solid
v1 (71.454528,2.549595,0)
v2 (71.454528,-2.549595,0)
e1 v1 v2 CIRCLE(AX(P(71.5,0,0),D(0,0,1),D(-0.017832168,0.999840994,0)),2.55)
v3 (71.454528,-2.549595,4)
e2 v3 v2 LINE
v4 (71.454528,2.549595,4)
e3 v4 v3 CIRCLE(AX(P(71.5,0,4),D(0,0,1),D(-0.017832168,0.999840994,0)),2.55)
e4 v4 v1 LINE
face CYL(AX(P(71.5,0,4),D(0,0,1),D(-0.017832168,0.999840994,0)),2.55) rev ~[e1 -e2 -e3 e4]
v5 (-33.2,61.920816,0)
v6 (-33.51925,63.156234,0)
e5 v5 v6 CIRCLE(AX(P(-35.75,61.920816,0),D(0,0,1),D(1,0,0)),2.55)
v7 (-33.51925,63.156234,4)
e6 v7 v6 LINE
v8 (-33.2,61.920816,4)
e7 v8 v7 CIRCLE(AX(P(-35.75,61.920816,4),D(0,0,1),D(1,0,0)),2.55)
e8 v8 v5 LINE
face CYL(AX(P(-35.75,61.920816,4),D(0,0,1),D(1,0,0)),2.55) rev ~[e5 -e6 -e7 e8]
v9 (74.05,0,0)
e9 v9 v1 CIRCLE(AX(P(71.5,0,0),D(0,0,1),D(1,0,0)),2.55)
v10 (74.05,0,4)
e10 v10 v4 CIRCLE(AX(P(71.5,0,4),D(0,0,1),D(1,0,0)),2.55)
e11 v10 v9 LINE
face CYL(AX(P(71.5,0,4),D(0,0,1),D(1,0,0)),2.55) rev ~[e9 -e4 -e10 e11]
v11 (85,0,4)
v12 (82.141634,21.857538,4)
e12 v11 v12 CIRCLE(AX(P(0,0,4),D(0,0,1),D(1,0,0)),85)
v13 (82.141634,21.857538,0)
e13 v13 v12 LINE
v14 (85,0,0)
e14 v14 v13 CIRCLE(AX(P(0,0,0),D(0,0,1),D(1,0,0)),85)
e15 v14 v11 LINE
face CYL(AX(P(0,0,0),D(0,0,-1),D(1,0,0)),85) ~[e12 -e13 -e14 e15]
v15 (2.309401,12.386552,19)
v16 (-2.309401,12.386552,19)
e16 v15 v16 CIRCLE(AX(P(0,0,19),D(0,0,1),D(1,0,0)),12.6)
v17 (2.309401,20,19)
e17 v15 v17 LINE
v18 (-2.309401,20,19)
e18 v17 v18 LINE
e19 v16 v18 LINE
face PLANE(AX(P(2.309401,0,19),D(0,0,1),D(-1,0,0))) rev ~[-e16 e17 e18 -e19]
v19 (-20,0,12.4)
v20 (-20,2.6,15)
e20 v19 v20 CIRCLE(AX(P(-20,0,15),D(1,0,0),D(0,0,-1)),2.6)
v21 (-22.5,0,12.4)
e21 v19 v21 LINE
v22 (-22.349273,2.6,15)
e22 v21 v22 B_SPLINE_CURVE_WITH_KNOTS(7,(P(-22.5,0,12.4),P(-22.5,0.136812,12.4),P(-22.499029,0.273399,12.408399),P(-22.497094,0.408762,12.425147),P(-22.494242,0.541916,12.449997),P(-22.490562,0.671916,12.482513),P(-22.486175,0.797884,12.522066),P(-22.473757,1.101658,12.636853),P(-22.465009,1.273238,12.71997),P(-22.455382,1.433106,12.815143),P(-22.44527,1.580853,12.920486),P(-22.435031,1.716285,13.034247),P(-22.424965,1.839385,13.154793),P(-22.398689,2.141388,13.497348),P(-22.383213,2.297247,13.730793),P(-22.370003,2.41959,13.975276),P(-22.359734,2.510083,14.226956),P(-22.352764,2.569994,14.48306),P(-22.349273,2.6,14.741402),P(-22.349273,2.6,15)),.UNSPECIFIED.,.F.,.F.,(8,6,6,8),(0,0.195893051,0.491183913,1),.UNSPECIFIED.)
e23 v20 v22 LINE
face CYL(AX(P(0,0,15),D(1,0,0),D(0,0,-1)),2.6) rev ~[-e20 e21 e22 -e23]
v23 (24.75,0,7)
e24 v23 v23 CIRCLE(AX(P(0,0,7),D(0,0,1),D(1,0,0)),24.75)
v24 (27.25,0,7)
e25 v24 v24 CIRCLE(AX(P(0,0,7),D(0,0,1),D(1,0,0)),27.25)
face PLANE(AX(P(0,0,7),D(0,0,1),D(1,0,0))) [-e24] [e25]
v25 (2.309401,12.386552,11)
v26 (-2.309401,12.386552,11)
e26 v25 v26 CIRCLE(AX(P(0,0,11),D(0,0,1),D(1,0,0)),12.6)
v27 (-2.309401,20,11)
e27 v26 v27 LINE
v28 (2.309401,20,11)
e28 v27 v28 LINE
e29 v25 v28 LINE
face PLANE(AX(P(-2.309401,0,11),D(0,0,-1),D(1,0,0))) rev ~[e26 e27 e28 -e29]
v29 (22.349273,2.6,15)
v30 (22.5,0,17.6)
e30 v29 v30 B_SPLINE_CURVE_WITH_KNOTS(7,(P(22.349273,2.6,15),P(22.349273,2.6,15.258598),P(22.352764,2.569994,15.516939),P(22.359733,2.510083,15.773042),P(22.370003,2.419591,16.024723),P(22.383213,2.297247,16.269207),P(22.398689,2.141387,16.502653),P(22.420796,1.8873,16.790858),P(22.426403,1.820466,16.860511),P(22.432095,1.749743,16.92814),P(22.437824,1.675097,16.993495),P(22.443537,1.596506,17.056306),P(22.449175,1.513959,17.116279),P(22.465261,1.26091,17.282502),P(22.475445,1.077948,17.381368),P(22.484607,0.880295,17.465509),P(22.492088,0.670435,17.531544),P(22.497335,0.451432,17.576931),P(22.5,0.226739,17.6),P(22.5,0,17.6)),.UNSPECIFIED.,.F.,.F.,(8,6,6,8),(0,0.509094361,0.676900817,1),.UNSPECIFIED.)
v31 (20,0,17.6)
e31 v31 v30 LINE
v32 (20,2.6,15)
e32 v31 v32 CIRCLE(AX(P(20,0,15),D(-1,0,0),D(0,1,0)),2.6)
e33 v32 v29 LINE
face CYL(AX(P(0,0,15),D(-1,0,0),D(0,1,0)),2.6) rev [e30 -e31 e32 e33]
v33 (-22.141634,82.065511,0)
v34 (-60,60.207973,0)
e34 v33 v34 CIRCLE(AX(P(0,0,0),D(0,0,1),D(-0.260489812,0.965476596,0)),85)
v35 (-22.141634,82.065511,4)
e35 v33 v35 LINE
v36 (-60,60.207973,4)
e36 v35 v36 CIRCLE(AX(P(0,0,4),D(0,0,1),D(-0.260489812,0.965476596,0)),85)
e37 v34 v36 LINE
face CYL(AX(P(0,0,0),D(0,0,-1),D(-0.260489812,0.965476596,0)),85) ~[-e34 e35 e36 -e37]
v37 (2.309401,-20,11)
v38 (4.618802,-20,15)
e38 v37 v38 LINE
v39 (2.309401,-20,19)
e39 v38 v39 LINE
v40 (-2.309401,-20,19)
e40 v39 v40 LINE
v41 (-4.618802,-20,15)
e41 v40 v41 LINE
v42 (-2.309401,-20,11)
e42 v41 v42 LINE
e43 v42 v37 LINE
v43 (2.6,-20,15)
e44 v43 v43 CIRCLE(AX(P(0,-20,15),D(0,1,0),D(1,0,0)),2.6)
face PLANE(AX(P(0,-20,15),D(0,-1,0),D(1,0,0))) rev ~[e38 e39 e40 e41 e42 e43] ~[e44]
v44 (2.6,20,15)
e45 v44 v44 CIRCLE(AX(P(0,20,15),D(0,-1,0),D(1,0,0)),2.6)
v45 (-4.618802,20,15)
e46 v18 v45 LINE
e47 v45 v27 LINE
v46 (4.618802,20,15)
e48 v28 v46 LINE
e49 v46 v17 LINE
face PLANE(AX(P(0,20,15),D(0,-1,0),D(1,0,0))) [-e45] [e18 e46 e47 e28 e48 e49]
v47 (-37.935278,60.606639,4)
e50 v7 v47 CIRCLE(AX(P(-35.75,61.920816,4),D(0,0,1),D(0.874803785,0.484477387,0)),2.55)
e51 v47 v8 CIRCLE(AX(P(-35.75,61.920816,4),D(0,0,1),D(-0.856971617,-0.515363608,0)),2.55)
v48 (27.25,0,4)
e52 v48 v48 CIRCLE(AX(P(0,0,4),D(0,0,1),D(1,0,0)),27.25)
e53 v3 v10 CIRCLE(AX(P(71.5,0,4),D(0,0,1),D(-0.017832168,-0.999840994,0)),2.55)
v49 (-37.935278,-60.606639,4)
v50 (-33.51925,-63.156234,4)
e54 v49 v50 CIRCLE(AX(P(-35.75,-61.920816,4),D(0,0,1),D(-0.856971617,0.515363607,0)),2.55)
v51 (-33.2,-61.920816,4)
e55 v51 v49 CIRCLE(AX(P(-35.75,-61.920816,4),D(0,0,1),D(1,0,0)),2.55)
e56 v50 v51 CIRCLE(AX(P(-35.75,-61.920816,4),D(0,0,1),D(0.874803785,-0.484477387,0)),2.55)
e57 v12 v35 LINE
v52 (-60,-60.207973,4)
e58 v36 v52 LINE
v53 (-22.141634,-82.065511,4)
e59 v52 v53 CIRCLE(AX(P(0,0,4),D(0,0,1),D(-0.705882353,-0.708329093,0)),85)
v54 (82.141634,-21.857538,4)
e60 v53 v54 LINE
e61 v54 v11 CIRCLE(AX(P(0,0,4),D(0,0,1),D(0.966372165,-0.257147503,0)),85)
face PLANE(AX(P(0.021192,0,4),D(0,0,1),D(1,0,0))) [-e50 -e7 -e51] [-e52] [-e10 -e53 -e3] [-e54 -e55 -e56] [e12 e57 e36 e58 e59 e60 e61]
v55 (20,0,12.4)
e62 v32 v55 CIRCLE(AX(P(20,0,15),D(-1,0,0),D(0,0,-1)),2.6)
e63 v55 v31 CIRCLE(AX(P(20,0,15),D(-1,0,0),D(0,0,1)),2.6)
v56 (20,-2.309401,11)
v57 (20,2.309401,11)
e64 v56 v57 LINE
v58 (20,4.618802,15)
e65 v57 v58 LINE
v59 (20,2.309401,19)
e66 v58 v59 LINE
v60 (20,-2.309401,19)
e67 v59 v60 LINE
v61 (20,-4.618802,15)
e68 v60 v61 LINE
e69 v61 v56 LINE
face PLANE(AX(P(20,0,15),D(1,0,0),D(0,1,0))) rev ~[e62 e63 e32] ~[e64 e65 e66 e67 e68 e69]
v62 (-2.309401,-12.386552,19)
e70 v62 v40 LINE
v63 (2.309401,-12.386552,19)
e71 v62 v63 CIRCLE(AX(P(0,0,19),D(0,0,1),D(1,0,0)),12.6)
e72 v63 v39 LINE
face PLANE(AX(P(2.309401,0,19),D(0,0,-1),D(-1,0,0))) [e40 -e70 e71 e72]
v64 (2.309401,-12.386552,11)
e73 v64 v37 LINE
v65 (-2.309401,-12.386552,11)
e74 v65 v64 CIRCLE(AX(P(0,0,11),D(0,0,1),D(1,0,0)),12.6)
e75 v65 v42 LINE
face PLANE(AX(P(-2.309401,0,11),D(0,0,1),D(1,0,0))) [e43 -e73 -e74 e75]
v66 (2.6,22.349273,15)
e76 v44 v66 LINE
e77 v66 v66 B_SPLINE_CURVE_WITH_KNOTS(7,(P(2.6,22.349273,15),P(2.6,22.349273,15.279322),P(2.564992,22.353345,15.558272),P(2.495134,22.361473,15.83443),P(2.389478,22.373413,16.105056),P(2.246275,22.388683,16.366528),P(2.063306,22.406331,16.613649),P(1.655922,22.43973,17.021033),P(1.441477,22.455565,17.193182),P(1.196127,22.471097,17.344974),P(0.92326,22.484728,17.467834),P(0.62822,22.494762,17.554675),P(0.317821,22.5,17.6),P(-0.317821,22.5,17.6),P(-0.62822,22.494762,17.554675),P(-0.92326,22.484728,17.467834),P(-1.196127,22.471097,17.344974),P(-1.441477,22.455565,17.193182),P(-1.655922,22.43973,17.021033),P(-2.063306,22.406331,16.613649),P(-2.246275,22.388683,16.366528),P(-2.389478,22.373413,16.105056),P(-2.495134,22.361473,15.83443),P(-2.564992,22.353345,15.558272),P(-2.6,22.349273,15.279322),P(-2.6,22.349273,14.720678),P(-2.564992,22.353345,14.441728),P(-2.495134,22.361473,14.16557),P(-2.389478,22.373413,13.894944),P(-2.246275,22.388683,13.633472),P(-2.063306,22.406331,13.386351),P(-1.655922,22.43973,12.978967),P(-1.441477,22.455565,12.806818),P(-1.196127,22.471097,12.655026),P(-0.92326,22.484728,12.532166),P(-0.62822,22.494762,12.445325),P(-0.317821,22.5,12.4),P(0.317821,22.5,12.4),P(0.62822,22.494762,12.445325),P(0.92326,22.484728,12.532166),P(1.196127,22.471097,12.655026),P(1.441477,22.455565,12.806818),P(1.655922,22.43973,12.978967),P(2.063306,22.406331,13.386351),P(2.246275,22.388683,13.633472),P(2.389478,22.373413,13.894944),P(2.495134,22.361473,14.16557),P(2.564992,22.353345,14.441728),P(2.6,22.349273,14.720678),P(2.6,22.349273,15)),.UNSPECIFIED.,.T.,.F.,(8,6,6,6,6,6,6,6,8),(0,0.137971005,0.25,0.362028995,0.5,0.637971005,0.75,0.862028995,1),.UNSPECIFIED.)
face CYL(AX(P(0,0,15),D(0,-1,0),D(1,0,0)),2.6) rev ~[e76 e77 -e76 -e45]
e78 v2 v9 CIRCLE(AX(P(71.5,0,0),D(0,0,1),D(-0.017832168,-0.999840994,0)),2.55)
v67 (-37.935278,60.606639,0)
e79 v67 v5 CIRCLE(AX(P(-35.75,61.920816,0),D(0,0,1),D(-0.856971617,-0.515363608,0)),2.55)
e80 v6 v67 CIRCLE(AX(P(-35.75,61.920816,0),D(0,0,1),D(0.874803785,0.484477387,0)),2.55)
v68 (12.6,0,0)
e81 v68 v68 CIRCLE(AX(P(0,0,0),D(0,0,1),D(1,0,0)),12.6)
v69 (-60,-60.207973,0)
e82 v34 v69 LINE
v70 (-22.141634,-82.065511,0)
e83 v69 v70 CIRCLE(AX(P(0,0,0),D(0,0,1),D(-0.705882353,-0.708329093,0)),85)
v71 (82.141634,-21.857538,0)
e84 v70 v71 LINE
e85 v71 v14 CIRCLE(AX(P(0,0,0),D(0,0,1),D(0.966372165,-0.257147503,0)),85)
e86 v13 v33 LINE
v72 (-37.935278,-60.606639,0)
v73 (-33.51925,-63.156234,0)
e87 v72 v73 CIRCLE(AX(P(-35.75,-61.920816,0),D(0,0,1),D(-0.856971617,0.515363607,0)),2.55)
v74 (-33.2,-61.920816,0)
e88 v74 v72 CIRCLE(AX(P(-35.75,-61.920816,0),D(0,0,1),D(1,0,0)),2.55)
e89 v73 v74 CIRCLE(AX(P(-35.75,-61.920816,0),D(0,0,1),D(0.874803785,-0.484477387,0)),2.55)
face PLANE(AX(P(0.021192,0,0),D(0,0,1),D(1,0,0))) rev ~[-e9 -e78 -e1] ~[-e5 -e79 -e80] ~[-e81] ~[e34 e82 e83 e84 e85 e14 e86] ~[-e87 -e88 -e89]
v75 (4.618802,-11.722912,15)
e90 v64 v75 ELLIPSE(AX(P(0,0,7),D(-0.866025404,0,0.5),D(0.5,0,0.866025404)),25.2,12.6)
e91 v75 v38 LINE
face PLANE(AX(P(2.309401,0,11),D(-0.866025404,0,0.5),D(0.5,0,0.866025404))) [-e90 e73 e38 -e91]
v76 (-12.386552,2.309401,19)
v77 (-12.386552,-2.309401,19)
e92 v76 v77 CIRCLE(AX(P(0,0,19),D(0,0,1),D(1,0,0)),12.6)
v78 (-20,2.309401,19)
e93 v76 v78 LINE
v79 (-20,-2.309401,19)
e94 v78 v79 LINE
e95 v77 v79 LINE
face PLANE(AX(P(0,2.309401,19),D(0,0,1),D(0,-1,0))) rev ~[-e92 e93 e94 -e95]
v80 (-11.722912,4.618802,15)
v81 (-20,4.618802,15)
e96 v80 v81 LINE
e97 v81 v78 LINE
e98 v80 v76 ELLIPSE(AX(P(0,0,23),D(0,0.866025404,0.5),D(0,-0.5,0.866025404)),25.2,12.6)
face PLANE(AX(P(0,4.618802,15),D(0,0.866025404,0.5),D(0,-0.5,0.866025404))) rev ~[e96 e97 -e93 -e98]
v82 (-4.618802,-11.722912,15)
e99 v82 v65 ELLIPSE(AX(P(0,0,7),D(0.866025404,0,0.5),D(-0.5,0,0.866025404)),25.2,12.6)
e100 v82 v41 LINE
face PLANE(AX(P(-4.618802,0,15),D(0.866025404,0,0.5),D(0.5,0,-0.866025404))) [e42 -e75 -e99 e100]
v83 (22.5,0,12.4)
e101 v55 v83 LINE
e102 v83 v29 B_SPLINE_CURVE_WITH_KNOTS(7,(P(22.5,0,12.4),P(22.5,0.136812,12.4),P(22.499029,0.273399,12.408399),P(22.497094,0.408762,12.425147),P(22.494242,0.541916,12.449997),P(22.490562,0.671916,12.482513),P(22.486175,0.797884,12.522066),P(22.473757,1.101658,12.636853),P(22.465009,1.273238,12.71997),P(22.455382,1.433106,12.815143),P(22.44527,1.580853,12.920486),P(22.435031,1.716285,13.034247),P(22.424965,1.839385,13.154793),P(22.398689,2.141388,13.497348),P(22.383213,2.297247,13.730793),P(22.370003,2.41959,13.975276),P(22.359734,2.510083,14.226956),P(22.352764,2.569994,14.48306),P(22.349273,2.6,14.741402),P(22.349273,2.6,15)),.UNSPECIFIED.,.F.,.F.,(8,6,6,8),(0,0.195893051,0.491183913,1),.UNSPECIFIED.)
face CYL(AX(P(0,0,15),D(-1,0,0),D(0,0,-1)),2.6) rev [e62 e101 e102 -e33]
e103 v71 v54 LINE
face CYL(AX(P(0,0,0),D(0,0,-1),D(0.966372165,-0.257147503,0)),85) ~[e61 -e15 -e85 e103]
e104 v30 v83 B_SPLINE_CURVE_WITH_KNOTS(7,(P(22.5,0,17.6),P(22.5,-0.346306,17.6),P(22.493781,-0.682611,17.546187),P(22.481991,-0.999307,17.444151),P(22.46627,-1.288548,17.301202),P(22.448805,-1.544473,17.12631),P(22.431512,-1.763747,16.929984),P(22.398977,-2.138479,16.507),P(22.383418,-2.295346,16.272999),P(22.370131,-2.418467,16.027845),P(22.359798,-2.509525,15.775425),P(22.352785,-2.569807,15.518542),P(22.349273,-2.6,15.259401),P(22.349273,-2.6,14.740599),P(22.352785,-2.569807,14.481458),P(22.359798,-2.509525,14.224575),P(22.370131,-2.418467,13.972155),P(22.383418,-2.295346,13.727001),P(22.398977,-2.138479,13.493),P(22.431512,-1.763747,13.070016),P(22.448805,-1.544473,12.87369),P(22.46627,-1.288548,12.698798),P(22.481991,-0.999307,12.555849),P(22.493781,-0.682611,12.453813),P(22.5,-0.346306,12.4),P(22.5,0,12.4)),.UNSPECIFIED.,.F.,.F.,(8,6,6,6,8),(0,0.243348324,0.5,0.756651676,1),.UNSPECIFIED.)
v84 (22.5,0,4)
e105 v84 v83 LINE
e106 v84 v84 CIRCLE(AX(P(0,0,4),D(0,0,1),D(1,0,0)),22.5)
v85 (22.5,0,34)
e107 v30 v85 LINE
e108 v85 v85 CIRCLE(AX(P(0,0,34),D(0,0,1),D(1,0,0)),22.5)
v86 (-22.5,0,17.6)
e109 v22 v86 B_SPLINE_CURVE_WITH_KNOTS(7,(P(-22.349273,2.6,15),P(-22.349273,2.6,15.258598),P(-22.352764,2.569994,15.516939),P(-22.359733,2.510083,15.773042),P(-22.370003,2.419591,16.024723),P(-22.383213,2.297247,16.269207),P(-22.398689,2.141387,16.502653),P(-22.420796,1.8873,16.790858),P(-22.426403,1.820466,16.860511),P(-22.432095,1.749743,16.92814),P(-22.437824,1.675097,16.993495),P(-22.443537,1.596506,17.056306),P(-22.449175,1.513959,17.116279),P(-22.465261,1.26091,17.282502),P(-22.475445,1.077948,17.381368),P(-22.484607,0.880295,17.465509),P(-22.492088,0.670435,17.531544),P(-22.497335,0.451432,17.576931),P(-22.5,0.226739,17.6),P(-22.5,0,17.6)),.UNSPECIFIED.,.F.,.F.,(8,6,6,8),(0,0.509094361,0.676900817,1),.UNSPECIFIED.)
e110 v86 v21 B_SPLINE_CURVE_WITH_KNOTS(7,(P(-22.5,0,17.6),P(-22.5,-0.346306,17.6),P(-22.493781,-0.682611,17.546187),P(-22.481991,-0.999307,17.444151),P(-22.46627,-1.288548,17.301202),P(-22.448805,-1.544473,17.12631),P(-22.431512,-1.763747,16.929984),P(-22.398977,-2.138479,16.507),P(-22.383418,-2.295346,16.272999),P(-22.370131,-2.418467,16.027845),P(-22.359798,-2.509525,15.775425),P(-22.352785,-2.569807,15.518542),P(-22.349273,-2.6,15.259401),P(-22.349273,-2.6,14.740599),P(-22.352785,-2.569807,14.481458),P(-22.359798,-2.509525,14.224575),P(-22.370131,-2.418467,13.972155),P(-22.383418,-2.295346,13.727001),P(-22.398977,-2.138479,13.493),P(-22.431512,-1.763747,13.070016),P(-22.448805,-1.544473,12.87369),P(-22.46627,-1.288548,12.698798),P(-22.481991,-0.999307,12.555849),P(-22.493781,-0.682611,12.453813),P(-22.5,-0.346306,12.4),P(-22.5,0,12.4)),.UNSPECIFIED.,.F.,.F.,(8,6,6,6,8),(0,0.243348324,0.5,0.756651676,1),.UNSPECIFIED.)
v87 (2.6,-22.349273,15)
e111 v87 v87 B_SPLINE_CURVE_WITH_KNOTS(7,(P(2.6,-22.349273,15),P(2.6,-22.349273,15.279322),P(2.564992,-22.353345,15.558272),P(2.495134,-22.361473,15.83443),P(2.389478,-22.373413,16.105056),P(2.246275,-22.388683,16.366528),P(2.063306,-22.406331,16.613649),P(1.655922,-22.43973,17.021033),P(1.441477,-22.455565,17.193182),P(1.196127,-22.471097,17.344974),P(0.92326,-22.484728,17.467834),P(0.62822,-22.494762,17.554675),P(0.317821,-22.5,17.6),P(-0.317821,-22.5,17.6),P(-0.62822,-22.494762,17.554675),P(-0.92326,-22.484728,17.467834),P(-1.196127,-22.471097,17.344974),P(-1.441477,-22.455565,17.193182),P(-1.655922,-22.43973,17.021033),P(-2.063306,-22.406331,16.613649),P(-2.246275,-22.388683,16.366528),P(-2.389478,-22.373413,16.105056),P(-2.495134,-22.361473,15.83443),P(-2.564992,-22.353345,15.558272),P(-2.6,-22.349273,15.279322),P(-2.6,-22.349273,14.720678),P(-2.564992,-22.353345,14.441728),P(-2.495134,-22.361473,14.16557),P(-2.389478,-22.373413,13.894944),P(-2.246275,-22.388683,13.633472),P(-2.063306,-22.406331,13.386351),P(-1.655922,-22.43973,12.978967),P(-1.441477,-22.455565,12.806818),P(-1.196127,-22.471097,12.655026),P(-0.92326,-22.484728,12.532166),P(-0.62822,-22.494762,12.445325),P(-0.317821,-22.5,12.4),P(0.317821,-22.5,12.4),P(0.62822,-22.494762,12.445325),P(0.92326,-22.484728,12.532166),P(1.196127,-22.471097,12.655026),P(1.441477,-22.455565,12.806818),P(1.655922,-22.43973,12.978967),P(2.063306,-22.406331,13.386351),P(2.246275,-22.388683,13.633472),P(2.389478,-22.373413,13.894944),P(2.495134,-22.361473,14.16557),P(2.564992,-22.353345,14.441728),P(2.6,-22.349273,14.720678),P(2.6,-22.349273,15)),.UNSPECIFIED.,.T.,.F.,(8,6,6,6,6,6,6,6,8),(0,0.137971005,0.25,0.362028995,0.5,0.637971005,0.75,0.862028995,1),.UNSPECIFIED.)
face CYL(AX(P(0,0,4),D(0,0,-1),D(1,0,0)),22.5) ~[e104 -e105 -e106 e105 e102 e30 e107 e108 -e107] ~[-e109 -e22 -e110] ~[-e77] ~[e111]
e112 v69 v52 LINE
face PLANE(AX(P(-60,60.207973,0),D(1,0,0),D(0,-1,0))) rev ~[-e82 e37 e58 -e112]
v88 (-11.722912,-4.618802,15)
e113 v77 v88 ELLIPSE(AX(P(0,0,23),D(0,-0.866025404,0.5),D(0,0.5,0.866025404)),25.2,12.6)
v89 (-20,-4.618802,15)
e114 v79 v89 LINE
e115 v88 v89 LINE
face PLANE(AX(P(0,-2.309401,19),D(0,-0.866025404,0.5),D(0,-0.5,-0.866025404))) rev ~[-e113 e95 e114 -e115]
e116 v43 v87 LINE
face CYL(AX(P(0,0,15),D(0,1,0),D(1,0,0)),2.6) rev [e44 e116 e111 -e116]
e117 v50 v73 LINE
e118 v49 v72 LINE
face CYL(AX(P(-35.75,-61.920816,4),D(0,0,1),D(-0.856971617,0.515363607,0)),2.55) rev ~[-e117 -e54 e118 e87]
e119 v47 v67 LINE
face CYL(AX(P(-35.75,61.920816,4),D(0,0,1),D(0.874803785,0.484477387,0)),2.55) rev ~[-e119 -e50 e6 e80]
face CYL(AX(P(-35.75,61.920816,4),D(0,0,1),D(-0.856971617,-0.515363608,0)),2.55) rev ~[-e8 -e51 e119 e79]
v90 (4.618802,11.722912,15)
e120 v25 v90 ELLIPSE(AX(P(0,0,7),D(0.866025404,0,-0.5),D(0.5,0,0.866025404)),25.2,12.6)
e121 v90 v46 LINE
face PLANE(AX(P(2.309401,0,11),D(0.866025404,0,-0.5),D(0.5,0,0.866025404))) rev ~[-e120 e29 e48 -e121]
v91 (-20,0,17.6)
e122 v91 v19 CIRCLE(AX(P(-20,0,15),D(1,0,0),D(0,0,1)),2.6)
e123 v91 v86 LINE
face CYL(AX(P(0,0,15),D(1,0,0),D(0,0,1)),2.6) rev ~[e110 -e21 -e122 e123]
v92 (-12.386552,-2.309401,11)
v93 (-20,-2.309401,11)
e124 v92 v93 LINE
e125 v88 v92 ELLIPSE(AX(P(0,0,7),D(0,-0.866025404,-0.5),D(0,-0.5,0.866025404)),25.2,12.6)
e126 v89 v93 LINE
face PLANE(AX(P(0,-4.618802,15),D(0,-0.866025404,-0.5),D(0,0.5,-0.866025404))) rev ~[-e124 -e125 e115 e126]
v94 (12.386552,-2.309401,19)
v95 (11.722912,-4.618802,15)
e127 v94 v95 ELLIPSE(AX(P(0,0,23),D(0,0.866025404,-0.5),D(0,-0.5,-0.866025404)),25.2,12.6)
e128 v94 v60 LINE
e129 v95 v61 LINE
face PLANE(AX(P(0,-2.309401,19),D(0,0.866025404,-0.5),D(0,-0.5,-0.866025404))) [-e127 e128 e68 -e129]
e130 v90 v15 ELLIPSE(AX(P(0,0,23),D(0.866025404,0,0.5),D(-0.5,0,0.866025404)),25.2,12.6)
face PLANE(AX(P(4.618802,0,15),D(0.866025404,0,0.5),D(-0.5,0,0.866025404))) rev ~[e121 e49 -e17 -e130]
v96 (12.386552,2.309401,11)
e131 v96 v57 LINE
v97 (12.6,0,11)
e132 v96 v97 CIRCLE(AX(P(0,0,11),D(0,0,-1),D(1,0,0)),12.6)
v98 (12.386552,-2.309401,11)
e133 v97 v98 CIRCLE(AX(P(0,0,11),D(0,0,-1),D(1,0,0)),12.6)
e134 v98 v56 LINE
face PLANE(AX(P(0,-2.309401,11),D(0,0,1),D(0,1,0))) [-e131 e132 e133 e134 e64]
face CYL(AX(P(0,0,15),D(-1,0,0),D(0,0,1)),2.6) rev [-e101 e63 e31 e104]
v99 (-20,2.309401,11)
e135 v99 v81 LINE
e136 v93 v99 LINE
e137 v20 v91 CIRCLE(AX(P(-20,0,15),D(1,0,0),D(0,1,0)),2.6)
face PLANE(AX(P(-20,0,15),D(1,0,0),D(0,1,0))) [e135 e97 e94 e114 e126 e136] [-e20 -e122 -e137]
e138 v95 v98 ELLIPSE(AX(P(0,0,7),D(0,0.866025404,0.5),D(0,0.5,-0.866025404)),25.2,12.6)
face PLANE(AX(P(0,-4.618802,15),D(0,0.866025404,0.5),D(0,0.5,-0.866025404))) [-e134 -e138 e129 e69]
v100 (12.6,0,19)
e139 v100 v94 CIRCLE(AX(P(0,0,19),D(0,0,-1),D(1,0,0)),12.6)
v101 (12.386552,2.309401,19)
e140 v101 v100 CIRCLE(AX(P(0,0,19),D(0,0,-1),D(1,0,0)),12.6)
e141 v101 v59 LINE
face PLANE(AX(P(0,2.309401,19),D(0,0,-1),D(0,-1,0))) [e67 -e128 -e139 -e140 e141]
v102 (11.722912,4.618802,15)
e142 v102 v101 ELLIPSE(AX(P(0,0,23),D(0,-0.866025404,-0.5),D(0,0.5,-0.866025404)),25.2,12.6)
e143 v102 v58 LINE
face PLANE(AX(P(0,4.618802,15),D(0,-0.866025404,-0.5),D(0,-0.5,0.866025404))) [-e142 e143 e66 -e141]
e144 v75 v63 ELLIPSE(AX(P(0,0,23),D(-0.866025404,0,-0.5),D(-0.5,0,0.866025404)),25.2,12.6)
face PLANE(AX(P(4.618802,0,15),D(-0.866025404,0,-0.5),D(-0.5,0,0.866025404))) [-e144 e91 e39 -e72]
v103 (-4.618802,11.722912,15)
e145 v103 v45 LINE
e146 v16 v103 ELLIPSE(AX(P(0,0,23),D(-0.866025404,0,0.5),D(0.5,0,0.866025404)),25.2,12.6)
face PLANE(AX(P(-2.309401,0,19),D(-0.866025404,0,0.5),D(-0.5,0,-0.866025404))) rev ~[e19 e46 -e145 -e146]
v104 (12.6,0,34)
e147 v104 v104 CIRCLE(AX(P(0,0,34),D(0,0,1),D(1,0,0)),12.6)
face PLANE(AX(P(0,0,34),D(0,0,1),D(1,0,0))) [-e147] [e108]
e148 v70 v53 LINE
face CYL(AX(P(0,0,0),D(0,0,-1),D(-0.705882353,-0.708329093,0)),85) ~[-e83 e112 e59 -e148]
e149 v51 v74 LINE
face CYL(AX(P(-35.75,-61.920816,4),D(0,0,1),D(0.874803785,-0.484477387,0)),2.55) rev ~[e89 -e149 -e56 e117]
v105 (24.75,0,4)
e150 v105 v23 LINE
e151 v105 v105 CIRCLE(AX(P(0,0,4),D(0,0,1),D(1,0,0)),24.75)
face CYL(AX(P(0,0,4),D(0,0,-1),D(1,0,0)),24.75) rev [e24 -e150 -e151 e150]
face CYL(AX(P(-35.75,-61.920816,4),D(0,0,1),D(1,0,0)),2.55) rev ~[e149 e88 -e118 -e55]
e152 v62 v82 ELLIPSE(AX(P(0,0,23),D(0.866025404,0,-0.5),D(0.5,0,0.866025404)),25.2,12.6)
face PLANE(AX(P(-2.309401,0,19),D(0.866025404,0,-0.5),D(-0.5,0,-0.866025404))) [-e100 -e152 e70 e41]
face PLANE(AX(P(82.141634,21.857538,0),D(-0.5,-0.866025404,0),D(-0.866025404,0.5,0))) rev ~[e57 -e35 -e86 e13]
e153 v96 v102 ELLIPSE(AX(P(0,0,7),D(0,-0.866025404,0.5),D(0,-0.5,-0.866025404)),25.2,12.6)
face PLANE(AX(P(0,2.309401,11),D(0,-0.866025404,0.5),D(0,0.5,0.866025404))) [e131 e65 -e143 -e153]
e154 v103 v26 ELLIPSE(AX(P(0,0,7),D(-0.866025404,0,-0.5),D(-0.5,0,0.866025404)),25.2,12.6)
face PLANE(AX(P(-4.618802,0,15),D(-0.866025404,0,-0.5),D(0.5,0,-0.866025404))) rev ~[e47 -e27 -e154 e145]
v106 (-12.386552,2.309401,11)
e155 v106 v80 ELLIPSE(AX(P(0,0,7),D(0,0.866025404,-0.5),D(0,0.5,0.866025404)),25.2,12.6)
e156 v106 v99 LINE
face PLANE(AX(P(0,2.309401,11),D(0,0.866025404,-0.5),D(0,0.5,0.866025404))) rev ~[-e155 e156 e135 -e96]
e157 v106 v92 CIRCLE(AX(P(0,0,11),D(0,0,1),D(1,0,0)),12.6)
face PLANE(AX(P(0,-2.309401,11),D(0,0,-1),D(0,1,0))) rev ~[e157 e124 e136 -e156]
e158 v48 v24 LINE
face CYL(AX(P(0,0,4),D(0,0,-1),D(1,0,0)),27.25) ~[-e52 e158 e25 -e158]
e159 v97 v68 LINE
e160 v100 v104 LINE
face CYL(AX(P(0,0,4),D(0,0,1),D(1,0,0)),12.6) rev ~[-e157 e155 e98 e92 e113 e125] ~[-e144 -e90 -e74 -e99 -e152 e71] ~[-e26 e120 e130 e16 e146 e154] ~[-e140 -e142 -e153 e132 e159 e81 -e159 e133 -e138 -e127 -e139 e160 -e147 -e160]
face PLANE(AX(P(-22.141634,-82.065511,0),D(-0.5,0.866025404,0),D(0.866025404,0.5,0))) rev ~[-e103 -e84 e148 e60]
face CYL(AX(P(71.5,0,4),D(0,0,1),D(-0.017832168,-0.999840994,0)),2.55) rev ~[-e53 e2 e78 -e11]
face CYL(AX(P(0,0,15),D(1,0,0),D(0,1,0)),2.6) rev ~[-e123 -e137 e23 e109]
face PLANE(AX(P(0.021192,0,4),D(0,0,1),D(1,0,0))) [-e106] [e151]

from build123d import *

# Parameters (mm, degrees)
F1_DEPTH       = 4
F3_DEPTH       = 25
F4_R           = 22.5
F4_R_2         = 12.6
F5_DEPTH       = 30
F6_R           = 12.6
F7_DEPTH       = 25
F9_DEPTH       = 20
F9_DEPTH_BACK  = 20
F11_DEPTH      = 20
F11_DEPTH_BACK = 20
F13_DEPTH      = 60.001
F13_DEPTH_BACK = 85.001
F14_R          = 2.6
F15_DEPTH      = 82.066510674
F15_DEPTH_BACK = 82.066510674
F16_R          = 27.25
F16_R_2        = 24.75
F17_DEPTH      = 3


with BuildPart() as f1:
    # F0 (on Top) → F1 (new body)
    with BuildSketch(Plane.XY):
        with BuildLine():
            ThreePointArc((82.1416340365, -21.8575377801), (84.2823792174, -11.0218216937), (85, 0))
            ThreePointArc((85, 0), (84.2823792174, 11.0218216937), (82.1416340365, 21.8575377801))
            Line((82.1416340365, 21.8575377801), (-22.1416340365, 82.065510674))
            ThreePointArc((-22.1416340365, 82.065510674), (-42.5, 73.6121593217), (-60, 60.207972894))
            Line((-60, 60.207972894), (-60, -60.207972894))
            ThreePointArc((-60, -60.207972894), (-42.5, -73.6121593217), (-22.1416340365, -82.065510674))
            Line((-22.1416340365, -82.065510674), (82.1416340365, -21.8575377801))
        make_face()
    extrude(amount=F1_DEPTH)

    # F2 (on face) → F3 (cut)
    with BuildSketch(Plane.XY.offset(4)):
        with BuildLine():
            ThreePointArc((71.454527972, -2.5495945353), (71.4886310891, -1.275), (71.5, 0))
            ThreePointArc((71.5, 0), (71.4886310891, 1.275), (71.454527972, 2.5495945353))
            ThreePointArc((71.454527972, 2.5495945353), (68.95, 0), (71.454527972, -2.5495945353))
        make_face()
        with BuildLine():
            ThreePointArc((71.454527972, 2.5495945353), (71.4886310891, 1.275), (71.5, 0))
            ThreePointArc((71.5, 0), (71.4886310891, -1.275), (71.454527972, -2.5495945353))
            ThreePointArc((71.454527972, -2.5495945353), (73.2869731851, -1.8191280427), (74.05, 0))
            ThreePointArc((74.05, 0), (73.2869731851, 1.8191280427), (71.454527972, 2.5495945353))
        make_face()
        with BuildLine():
            ThreePointArc((-37.935277623, -60.6066391715), (-37.025, -64.1291811502), (-33.5192503491, -63.1562337069))
            ThreePointArc((-33.5192503491, -63.1562337069), (-35.75, -61.9208163706), (-37.935277623, -60.6066391715))
        make_face()
        with BuildLine():
            ThreePointArc((-37.935277623, -60.6066391715), (-35.75, -61.9208163706), (-33.5192503491, -63.1562337069))
            ThreePointArc((-33.5192503491, -63.1562337069), (-33.2811023097, -62.5588165234), (-33.2, -61.9208163706))
            ThreePointArc((-33.2, -61.9208163706), (-35.0680754949, -59.4636881751), (-37.935277623, -60.6066391715))
        make_face()
        with BuildLine():
            ThreePointArc((-37.935277623, 60.6066391715), (-35.75, 61.9208163706), (-33.5192503491, 63.1562337069))
            ThreePointArc((-33.5192503491, 63.1562337069), (-37.025, 64.1291811502), (-37.935277623, 60.6066391715))
        make_face()
        with BuildLine():
            ThreePointArc((-33.2, 61.9208163706), (-33.2811023097, 62.5588165234), (-33.5192503491, 63.1562337069))
            ThreePointArc((-33.5192503491, 63.1562337069), (-35.75, 61.9208163706), (-37.935277623, 60.6066391715))
            ThreePointArc((-37.935277623, 60.6066391715), (-35.0680754949, 59.4636881751), (-33.2, 61.9208163706))
        make_face()
    extrude(amount=-F3_DEPTH, mode=Mode.SUBTRACT)

    # F4 (on face) → F5 (join)
    with BuildSketch(Plane.XY.offset(4)):
        Circle(F4_R)
        Circle(F4_R_2, mode=Mode.SUBTRACT)
    extrude(amount=F5_DEPTH)

    # F6 (on face) → F7 (cut)
    with BuildSketch(Plane.XY.offset(4)):
        Circle(F6_R)
    extrude(amount=-F7_DEPTH, mode=Mode.SUBTRACT)

    # F8 (on Right) → F9 (cut, two sides)
    with BuildSketch(Plane.YZ) as f9_sk:
        Polygon((-2.3094010768, 11), (2.3094010768, 11), (4.6188021535, 15), (2.3094010768, 19), (-2.3094010768, 19), (-4.6188021535, 15), align=None)
    extrude(amount=F9_DEPTH, mode=Mode.SUBTRACT)
    extrude(f9_sk.sketch, amount=-F9_DEPTH_BACK, mode=Mode.SUBTRACT)

    # F10 (on Front) → F11 (cut, two sides)
    with BuildSketch(Plane.XZ) as f11_sk:
        Polygon((-2.3094010768, 11), (2.3094010768, 11), (4.6188021535, 15), (2.3094010768, 19), (-2.3094010768, 19), (-4.6188021535, 15), align=None)
    extrude(amount=F11_DEPTH, mode=Mode.SUBTRACT)
    extrude(f11_sk.sketch, amount=-F11_DEPTH_BACK, mode=Mode.SUBTRACT)

    # F12 (on Right) → F13 (cut, two sides)
    with BuildSketch(Plane.YZ) as f13_sk:
        with BuildLine():
            ThreePointArc((0, 17.6), (-2.6, 15), (0, 12.4))
            Line((0, 12.4), (0, 17.6))
        make_face()
        with BuildLine():
            Line((0, 17.6), (0, 12.4))
            ThreePointArc((0, 12.4), (1.8384776311, 13.1615223689), (2.6, 15))
            ThreePointArc((2.6, 15), (1.8384776311, 16.8384776311), (0, 17.6))
        make_face()
    extrude(amount=-F13_DEPTH, mode=Mode.SUBTRACT)
    extrude(f13_sk.sketch, amount=F13_DEPTH_BACK, mode=Mode.SUBTRACT)

    # F14 (on Front) → F15 (cut, two sides)
    with BuildSketch(Plane.XZ) as f15_sk:
        with Locations((0, 15)):
            Circle(F14_R)
    extrude(amount=F15_DEPTH, mode=Mode.SUBTRACT)
    extrude(f15_sk.sketch, amount=-F15_DEPTH_BACK, mode=Mode.SUBTRACT)

    # F16 (on face) → F17 (join)
    with BuildSketch(Plane.XY.offset(4)):
        Circle(F16_R)
        Circle(F16_R_2, mode=Mode.SUBTRACT)
    extrude(amount=F17_DEPTH)


solid = f1.part
